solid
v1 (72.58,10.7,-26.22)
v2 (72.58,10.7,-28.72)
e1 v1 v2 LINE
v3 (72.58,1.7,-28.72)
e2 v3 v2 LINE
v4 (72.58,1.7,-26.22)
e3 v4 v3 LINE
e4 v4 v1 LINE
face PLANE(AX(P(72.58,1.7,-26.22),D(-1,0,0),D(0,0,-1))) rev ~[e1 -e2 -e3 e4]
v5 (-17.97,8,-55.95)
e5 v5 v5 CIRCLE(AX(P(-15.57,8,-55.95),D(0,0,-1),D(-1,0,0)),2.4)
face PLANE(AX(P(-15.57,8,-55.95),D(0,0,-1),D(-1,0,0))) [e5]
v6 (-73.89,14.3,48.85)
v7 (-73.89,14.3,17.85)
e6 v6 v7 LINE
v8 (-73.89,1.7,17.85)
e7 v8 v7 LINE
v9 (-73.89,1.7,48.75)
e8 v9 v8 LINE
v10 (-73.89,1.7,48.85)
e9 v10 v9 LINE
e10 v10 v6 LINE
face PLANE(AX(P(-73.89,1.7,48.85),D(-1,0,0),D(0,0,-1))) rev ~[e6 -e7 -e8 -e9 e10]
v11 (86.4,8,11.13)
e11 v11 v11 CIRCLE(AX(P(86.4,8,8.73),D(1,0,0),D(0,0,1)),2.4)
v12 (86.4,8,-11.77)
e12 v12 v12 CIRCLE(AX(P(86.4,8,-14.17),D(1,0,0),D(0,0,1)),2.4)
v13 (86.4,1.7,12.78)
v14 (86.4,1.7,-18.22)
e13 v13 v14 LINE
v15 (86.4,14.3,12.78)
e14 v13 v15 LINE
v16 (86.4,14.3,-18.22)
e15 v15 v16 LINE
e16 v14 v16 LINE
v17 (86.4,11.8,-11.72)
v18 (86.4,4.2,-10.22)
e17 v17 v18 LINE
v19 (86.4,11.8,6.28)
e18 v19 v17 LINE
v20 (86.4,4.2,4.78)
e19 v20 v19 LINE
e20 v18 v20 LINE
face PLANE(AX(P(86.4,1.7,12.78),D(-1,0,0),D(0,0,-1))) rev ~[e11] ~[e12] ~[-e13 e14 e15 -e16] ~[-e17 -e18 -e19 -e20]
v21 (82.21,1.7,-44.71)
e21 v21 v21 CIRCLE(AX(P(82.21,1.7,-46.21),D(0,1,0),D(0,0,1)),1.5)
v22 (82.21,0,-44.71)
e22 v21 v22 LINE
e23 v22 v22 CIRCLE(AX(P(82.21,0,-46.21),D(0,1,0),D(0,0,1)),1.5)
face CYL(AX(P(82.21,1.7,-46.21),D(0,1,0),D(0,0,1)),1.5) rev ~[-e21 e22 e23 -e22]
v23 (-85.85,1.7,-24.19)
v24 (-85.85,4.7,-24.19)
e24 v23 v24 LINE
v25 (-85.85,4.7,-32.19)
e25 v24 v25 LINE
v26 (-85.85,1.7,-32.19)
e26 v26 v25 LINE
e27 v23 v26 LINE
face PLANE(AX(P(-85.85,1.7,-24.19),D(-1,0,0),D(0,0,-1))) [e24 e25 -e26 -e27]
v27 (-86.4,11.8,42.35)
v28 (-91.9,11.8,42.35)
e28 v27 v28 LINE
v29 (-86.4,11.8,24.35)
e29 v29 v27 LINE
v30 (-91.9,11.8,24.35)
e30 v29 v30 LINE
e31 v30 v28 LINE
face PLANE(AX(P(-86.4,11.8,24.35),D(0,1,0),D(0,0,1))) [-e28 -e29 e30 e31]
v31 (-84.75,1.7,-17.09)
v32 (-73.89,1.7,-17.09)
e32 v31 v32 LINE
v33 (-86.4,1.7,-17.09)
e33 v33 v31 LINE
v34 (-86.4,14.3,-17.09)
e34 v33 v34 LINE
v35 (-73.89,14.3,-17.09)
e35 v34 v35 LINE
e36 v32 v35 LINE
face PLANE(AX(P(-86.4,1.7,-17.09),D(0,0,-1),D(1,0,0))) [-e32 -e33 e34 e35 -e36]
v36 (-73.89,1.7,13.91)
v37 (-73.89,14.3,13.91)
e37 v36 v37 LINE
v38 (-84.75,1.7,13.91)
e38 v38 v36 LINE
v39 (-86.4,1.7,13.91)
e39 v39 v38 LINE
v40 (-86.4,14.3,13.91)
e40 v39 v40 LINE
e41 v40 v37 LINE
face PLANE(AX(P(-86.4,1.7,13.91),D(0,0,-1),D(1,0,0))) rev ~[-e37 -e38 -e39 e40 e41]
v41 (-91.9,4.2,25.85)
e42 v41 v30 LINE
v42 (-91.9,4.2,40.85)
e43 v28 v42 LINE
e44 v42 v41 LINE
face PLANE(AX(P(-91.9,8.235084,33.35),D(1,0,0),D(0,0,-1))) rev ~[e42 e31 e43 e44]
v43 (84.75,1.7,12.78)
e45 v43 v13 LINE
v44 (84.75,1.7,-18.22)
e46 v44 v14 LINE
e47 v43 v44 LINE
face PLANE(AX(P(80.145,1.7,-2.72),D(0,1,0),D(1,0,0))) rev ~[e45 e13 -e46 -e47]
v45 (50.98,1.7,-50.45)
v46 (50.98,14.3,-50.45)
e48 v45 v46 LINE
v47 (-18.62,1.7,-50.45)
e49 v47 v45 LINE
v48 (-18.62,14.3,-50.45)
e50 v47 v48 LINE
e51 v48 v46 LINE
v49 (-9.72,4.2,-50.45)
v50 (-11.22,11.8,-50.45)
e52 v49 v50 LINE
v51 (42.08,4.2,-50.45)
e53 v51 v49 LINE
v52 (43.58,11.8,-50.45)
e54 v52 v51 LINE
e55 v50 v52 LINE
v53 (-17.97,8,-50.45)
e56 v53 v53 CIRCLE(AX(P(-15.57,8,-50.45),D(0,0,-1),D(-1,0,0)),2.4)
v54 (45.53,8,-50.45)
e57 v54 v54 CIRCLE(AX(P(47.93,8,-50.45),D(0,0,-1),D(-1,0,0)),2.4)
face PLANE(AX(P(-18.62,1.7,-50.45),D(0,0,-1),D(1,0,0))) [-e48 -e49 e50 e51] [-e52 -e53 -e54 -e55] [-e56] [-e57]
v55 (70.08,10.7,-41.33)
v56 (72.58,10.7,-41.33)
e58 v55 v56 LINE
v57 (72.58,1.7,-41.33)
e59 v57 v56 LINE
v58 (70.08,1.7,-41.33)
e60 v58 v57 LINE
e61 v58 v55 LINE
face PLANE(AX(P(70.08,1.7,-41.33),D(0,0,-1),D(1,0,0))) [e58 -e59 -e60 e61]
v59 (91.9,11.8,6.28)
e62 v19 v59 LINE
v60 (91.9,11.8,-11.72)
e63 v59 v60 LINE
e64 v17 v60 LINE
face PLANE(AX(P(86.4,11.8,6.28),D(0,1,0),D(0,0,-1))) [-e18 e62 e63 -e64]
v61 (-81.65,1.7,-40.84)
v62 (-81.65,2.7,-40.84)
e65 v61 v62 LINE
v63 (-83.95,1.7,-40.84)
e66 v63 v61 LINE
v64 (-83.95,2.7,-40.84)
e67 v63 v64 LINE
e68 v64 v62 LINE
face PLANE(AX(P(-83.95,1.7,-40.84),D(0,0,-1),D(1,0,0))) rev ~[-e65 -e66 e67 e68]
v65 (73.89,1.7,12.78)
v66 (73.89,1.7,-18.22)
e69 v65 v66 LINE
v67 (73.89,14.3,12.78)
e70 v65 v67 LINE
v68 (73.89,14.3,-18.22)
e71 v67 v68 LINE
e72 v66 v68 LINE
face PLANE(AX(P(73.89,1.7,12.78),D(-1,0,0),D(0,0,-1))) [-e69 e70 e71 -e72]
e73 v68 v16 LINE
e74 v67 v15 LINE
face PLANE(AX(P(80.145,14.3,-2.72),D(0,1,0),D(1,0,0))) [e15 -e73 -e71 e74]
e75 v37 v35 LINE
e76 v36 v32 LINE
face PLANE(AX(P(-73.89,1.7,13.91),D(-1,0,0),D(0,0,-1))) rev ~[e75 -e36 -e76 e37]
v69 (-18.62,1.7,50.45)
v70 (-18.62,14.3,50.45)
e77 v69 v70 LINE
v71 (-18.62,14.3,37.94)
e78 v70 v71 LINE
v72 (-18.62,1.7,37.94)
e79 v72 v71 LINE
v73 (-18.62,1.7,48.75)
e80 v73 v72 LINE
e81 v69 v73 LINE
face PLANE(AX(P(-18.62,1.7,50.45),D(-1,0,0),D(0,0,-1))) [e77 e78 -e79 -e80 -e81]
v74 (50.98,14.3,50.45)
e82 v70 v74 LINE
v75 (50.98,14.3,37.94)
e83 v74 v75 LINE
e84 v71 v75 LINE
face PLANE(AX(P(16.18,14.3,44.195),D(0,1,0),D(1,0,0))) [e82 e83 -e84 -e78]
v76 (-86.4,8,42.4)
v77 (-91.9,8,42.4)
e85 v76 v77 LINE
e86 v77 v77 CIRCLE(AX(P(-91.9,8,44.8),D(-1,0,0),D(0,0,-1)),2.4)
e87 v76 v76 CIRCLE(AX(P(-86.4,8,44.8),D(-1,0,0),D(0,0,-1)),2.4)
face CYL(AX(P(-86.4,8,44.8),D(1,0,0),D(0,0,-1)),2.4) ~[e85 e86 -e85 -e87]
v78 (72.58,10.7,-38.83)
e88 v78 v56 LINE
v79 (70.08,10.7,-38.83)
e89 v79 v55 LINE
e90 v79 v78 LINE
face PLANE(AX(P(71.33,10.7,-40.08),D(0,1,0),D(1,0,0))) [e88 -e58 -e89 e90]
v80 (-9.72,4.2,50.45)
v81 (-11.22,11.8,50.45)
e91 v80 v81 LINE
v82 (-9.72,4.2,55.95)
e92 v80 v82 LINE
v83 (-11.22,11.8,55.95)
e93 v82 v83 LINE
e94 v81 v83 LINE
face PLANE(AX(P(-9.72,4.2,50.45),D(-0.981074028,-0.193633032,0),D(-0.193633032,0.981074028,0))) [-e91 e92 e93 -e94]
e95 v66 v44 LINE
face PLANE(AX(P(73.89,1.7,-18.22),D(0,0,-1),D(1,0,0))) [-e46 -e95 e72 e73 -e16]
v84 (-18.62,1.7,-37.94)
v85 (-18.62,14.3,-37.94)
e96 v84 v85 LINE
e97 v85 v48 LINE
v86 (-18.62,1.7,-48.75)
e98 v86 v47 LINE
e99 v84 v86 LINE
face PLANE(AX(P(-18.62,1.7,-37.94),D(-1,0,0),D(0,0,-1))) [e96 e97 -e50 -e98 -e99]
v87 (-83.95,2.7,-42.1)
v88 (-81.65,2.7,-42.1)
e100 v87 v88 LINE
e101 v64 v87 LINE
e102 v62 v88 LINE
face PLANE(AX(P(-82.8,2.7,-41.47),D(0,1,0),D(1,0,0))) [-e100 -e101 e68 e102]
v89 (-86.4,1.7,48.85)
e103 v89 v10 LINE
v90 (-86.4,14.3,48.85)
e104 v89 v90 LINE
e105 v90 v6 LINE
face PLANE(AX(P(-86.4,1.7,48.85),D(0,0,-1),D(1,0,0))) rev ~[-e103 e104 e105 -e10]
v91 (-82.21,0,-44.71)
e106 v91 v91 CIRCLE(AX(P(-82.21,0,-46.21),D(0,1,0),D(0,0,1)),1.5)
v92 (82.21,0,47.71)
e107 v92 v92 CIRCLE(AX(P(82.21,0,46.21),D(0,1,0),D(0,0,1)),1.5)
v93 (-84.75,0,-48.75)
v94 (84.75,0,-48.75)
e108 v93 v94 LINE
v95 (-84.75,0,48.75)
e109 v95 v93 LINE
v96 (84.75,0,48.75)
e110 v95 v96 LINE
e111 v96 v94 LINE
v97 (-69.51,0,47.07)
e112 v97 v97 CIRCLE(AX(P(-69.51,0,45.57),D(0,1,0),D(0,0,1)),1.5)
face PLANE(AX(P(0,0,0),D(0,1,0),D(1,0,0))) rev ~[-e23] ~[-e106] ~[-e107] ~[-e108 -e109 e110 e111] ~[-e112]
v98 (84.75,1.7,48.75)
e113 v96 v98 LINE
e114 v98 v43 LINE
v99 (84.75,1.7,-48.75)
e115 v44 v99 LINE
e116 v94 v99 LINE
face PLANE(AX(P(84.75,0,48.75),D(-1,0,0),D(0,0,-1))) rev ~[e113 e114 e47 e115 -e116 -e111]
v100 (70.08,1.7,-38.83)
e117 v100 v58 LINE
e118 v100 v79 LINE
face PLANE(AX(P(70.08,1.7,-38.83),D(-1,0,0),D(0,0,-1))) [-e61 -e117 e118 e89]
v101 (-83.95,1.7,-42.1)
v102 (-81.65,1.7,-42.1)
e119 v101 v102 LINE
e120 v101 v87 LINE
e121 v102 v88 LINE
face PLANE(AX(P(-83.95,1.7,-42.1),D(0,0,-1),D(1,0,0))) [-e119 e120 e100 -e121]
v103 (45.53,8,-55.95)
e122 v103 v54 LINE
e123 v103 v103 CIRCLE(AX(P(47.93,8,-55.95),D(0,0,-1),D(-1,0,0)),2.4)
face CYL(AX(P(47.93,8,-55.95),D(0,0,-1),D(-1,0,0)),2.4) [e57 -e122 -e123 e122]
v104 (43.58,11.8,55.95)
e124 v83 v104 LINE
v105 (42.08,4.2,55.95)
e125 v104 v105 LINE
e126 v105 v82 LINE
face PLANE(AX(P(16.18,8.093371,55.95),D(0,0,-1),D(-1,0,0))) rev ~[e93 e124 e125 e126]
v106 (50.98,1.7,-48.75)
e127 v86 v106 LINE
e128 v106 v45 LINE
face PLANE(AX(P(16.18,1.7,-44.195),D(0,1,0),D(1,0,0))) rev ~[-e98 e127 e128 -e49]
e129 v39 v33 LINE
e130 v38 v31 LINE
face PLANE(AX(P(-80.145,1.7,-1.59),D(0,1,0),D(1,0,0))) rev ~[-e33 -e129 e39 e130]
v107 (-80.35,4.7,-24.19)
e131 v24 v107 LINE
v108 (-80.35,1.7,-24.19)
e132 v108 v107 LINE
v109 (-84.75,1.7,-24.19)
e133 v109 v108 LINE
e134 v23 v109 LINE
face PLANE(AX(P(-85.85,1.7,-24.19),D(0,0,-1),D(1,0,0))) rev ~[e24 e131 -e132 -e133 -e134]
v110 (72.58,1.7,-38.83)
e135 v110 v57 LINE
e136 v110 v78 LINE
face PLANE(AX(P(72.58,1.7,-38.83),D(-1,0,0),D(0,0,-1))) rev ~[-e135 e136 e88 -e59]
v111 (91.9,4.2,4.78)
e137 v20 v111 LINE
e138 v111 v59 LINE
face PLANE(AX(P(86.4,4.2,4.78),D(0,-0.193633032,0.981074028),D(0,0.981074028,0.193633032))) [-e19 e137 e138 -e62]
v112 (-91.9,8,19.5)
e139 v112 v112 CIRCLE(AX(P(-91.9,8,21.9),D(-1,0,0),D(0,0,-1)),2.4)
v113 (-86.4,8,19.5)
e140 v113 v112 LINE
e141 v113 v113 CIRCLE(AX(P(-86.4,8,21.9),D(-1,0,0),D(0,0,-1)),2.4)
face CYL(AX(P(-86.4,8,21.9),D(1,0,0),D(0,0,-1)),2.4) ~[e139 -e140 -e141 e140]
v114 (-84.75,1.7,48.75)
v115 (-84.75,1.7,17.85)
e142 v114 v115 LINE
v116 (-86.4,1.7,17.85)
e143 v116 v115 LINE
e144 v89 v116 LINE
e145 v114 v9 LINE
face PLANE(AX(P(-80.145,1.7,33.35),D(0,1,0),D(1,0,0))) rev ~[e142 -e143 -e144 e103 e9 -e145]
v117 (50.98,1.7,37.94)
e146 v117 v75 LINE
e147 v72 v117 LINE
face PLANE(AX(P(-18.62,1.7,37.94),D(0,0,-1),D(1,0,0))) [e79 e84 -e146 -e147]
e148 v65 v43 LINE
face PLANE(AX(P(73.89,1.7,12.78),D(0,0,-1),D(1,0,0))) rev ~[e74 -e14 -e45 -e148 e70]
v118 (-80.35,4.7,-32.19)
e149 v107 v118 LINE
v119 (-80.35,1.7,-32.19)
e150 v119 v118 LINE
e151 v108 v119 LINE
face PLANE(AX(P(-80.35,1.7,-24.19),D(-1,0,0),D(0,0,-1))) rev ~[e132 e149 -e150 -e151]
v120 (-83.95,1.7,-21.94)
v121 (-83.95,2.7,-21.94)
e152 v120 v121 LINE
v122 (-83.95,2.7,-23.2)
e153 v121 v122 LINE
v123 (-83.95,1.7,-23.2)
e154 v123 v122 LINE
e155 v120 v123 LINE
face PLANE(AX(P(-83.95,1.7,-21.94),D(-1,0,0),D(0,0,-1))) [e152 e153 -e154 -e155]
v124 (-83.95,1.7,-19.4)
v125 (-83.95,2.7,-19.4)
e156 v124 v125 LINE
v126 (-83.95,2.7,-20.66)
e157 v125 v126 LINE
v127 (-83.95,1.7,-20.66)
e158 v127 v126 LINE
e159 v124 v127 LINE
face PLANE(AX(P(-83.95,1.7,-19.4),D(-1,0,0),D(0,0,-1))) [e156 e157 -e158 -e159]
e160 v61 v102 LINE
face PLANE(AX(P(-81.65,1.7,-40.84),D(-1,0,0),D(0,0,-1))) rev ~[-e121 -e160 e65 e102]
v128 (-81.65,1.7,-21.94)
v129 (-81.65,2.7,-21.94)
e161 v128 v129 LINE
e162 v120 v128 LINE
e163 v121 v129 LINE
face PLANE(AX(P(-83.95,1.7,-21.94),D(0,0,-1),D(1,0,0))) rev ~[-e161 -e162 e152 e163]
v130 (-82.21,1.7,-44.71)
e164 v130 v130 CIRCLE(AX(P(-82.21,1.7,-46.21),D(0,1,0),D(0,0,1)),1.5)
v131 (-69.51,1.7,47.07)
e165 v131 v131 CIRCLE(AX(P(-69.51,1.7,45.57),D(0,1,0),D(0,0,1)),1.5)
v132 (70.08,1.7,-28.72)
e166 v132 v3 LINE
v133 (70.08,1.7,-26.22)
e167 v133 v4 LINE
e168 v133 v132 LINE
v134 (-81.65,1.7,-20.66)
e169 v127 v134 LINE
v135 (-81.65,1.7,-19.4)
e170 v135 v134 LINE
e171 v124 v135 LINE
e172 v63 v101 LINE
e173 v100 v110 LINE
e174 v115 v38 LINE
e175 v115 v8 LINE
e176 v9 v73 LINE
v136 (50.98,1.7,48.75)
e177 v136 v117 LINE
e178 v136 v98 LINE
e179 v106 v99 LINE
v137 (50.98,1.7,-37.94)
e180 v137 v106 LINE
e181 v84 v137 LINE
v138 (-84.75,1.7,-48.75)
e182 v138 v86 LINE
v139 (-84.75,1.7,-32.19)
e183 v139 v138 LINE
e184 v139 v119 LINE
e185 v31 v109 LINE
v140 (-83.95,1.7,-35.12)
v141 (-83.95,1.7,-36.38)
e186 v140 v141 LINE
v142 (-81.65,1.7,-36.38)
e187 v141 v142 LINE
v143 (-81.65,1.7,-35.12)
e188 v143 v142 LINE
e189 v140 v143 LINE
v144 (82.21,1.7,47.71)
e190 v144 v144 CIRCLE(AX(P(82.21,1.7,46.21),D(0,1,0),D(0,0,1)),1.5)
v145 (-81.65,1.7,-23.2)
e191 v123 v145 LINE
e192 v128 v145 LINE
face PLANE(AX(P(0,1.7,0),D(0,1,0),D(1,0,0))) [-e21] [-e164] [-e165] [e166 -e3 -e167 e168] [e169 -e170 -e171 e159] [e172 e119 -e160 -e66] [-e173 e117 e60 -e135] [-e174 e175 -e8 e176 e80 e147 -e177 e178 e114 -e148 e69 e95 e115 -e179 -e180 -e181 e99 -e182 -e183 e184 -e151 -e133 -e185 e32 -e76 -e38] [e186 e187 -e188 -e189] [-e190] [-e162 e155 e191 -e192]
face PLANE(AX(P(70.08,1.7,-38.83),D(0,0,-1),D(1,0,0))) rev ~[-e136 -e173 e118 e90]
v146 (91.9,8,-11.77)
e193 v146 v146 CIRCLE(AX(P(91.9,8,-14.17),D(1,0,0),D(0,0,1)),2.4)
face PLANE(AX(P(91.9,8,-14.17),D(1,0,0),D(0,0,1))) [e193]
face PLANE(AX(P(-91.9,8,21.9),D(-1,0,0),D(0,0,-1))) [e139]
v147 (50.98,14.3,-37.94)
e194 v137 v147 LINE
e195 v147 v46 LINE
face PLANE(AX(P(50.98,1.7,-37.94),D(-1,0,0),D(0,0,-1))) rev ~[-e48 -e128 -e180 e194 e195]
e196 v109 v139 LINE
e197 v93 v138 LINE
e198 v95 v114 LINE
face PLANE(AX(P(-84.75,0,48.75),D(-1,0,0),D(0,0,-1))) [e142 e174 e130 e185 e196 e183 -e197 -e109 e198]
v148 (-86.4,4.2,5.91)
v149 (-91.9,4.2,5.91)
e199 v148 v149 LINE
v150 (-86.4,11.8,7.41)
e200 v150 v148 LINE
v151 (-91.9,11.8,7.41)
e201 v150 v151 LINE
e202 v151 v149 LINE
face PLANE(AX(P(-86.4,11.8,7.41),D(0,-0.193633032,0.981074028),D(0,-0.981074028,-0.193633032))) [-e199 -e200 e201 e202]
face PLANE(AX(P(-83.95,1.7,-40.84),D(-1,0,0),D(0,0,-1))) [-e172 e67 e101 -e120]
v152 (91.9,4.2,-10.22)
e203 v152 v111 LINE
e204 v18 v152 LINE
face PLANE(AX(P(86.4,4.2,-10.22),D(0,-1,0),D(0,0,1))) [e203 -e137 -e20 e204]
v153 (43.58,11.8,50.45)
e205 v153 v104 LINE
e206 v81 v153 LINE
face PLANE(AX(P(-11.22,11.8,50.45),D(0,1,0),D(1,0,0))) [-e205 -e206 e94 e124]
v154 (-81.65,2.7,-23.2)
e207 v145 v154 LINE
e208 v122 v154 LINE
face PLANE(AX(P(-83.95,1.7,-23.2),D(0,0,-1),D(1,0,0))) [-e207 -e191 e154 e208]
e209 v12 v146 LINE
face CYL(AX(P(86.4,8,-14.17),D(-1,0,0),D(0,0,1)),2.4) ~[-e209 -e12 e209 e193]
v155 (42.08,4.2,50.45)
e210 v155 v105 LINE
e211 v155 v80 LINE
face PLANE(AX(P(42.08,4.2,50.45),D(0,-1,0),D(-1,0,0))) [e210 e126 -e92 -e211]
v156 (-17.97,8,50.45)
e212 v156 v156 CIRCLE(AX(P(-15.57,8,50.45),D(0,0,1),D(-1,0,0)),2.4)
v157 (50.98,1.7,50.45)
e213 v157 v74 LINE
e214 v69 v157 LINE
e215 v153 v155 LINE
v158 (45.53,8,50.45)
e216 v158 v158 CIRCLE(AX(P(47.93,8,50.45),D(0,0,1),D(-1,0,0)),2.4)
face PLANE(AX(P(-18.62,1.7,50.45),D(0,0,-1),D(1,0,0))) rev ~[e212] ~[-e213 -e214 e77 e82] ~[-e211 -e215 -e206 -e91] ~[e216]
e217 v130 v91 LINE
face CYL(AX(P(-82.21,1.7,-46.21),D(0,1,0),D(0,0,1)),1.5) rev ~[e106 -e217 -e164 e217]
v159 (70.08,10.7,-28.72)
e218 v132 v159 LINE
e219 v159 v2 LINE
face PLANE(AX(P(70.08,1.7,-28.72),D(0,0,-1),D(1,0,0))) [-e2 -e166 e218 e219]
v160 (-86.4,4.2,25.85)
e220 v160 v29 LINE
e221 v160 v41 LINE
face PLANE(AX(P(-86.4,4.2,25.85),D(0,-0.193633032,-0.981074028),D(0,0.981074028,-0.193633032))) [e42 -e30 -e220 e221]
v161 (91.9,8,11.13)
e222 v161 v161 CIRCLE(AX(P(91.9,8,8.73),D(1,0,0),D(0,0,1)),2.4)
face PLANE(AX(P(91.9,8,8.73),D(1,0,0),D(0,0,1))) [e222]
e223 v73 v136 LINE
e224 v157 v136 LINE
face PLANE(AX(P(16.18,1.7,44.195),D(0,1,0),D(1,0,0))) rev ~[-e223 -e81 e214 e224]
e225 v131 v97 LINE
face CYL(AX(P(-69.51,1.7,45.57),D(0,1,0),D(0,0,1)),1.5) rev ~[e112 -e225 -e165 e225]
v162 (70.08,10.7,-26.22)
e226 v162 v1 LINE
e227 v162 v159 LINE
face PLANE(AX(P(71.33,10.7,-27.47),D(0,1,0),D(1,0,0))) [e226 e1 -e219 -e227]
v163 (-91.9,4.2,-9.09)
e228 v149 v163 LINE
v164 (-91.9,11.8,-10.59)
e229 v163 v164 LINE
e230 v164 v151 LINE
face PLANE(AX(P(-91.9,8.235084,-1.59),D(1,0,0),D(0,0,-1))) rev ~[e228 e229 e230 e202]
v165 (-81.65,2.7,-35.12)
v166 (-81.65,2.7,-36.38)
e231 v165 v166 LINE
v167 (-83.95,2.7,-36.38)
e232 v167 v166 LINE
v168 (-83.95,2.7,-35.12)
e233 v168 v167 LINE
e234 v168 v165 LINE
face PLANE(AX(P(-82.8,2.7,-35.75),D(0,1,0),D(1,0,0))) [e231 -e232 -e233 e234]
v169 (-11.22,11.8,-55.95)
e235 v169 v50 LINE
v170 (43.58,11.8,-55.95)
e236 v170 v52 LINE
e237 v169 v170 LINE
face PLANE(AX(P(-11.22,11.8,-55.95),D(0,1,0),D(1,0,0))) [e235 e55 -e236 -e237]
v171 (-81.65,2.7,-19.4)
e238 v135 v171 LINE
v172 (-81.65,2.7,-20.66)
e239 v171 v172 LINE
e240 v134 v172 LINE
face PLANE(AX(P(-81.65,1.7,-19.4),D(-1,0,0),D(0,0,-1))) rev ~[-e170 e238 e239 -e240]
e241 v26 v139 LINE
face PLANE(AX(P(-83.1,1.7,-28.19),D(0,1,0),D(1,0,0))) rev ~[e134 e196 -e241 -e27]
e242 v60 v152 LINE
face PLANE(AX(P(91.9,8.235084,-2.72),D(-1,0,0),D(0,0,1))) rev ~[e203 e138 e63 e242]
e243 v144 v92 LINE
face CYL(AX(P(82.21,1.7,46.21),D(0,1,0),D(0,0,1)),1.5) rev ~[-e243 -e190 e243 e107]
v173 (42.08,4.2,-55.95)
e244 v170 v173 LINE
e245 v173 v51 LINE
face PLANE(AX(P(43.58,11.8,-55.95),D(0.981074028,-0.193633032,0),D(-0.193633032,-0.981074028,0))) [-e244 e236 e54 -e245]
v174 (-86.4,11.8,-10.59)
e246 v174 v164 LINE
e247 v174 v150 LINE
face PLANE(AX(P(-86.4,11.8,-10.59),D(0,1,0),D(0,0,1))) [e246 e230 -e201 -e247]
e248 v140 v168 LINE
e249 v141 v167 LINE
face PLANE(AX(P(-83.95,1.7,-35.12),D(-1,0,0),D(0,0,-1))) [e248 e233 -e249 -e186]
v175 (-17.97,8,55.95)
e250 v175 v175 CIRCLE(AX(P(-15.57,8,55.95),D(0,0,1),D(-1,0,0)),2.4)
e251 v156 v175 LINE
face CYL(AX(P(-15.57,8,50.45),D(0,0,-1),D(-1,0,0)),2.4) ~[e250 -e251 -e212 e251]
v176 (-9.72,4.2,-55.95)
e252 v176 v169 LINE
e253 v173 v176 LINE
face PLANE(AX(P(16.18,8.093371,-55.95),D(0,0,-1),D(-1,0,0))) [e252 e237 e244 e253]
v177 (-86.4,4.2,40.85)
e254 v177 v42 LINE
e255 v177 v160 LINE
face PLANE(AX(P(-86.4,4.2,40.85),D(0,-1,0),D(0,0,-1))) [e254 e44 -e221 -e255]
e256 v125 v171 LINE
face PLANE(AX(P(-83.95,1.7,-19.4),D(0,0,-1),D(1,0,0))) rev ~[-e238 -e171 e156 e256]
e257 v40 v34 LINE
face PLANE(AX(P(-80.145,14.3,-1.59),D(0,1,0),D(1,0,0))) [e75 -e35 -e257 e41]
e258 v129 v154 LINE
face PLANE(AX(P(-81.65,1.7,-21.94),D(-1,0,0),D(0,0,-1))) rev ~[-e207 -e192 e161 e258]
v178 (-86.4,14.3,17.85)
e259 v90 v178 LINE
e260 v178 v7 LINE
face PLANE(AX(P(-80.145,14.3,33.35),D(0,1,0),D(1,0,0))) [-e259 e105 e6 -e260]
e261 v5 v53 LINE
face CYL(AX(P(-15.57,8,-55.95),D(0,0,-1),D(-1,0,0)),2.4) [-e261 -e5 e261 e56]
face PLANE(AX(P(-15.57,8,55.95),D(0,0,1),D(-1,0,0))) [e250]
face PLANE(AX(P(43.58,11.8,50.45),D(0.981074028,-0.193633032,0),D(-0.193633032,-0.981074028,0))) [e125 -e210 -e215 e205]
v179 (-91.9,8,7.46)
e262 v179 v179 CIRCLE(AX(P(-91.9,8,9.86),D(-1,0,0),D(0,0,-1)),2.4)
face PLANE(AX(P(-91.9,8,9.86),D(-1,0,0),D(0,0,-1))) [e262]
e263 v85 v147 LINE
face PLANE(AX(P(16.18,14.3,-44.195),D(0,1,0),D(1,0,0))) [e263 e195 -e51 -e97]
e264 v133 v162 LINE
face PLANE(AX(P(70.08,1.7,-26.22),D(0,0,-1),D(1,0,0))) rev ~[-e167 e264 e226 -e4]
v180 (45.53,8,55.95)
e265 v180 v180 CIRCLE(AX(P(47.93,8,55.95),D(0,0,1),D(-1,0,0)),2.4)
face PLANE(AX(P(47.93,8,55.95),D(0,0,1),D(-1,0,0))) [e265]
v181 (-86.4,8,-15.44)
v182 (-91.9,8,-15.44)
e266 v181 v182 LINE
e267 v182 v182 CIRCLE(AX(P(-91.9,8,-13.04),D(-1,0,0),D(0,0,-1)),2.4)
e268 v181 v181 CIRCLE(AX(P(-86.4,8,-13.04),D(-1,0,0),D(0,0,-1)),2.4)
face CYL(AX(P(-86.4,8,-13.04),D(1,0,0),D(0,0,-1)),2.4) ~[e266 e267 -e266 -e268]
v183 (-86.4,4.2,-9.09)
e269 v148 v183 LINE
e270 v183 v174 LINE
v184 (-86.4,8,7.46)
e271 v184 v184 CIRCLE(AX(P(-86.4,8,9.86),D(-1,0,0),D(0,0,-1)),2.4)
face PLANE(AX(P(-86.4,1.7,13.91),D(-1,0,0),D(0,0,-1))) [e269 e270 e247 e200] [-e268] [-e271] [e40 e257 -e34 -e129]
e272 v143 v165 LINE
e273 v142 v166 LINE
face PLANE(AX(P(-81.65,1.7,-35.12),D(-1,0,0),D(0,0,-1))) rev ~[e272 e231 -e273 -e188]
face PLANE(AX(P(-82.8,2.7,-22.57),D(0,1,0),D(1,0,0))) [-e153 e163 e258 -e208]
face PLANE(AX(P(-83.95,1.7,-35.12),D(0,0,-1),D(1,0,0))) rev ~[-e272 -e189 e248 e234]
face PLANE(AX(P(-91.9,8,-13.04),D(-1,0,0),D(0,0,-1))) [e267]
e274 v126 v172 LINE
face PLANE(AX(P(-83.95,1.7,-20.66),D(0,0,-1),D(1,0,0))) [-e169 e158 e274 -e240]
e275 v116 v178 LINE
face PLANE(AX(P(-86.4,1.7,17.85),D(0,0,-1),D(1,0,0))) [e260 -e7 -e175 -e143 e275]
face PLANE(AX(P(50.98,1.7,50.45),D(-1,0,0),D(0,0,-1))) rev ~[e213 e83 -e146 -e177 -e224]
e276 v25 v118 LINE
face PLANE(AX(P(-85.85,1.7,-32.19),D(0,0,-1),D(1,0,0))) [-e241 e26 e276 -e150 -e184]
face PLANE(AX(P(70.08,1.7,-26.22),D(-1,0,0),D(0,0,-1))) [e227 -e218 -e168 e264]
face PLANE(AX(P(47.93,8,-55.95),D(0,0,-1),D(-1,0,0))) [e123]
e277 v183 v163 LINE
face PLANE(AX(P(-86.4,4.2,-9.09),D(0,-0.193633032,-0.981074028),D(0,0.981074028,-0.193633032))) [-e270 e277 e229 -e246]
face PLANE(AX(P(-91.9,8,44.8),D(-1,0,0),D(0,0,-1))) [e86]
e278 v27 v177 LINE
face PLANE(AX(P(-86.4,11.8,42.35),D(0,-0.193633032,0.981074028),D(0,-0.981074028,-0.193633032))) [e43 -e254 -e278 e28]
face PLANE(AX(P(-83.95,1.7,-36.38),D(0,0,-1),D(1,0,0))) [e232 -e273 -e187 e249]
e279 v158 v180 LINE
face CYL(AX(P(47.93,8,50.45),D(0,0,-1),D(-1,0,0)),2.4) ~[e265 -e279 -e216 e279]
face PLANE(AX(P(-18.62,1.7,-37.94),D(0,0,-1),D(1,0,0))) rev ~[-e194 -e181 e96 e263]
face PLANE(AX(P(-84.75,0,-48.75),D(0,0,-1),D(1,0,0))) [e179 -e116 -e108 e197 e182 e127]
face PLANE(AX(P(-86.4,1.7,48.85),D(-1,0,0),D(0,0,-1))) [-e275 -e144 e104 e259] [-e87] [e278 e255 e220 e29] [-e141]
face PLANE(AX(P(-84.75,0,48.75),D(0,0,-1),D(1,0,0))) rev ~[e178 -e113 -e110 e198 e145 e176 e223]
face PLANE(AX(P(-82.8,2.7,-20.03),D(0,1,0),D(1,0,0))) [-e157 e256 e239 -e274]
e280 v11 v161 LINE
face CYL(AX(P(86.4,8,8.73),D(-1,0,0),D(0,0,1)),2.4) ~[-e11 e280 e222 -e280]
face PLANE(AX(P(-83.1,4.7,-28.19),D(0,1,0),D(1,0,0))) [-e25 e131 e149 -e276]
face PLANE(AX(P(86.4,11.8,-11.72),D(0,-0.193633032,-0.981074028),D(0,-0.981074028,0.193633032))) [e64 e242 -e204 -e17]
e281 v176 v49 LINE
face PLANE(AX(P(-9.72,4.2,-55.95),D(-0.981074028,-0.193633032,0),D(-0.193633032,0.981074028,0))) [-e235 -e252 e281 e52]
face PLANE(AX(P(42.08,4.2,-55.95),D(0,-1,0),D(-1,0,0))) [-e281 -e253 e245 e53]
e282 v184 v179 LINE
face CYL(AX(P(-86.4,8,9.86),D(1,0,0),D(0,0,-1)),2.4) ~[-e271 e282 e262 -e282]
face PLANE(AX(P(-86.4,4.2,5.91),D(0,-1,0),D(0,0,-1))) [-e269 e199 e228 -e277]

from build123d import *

# Parameters (mm, degrees)
SKETCH1_W           = 169.5
SKETCH1_H           = 97.5
BASE_DEPTH          = 1.7
MOUNTHOLES_REACH    = 99.786
SKETCH2_R           = 1.5
SKETCH3_W           = 12.51
SKETCH3_H           = 31
SKETCH3_W_2         = 69.6
SKETCH3_H_2         = 12.51
DSUBMAIN_DEPTH      = 12.6
SKETCH4_R           = 2.4
BOSS_EXTRUDE3_DEPTH = 5.5
SKETCH5_R           = 2.4
BOSS_EXTRUDE4_DEPTH = 5.5
SKETCH6_R           = 2.4
BOSS_EXTRUDE5_DEPTH = 5.5
BOSS_EXTRUDE6_START = 5.5
SKETCH7_R           = 2.4
BOSS_EXTRUDE6_DEPTH = 5.5
SKETCH8_W           = 5.5
SKETCH8_H           = 8
USB_DEPTH           = 3
SKETCH9_W           = 2.3
SKETCH9_H           = 1.26
LED_DEPTH           = 1
SKETCH10_W          = 2.5
SKETCH10_H          = 2.5
BOSS_EXTRUDE9_DEPTH = 9


with BuildPart() as part:
    # Sketch1 → Base (new body)
    with BuildSketch(Plane(origin=(0, 0, 0), x_dir=(1, 0, 0), z_dir=(0, 1, 0))):
        Rectangle(SKETCH1_W, SKETCH1_H)
    extrude(amount=BASE_DEPTH)

    # Sketch2 → MountHoles (cut, up to next)
    with BuildSketch(Plane(origin=(0, 1.7, 0), x_dir=(1, 0, 0), z_dir=(0, 1, 0)), mode=Mode.PRIVATE) as mountholes_sk1:
        with Locations((82.21, 46.21)):
            Circle(SKETCH2_R)
    mountholes_tool1 = extrude(mountholes_sk1.sketch, amount=-MOUNTHOLES_REACH, mode=Mode.PRIVATE) & part.part
    # Sketch2 → MountHoles (cut, up to next)
    with BuildSketch(Plane(origin=(0, 1.7, 0), x_dir=(1, 0, 0), z_dir=(0, 1, 0)), mode=Mode.PRIVATE) as mountholes_sk2:
        with Locations((82.21, -46.21)):
            Circle(SKETCH2_R)
    mountholes_tool2 = extrude(mountholes_sk2.sketch, amount=-MOUNTHOLES_REACH, mode=Mode.PRIVATE) & part.part
    # Sketch2 → MountHoles (cut, up to next)
    with BuildSketch(Plane(origin=(0, 1.7, 0), x_dir=(1, 0, 0), z_dir=(0, 1, 0)), mode=Mode.PRIVATE) as mountholes_sk3:
        with Locations((-69.51, -45.57)):
            Circle(SKETCH2_R)
    mountholes_tool3 = extrude(mountholes_sk3.sketch, amount=-MOUNTHOLES_REACH, mode=Mode.PRIVATE) & part.part
    # Sketch2 → MountHoles (cut, up to next)
    with BuildSketch(Plane(origin=(0, 1.7, 0), x_dir=(1, 0, 0), z_dir=(0, 1, 0)), mode=Mode.PRIVATE) as mountholes_sk4:
        with Locations((-82.21, 46.21)):
            Circle(SKETCH2_R)
    mountholes_tool4 = extrude(mountholes_sk4.sketch, amount=-MOUNTHOLES_REACH, mode=Mode.PRIVATE) & part.part
    add(mountholes_tool1.solids().sort_by_distance((82.21, 1.7, -46.21))[0], mode=Mode.SUBTRACT)
    add(mountholes_tool2.solids().sort_by_distance((82.21, 1.7, 46.21))[0], mode=Mode.SUBTRACT)
    add(mountholes_tool3.solids().sort_by_distance((-69.51, 1.7, 45.57))[0], mode=Mode.SUBTRACT)
    add(mountholes_tool4.solids().sort_by_distance((-82.21, 1.7, -46.21))[0], mode=Mode.SUBTRACT)

    # Sketch3 → DSUBMain (add)
    with BuildSketch(Plane(origin=(0, 1.7, 0), x_dir=(1, 0, 0), z_dir=(0, 1, 0))):
        with Locations((-80.145, 1.59)):
            Rectangle(SKETCH3_W, SKETCH3_H)
        with Locations((-80.145, -33.35)):
            Rectangle(SKETCH3_W, SKETCH3_H)
        with Locations((80.145, 2.72)):
            Rectangle(SKETCH3_W, SKETCH3_H)
        with Locations((16.18, 44.195)):
            Rectangle(SKETCH3_W_2, SKETCH3_H_2)
        with Locations((16.18, -44.195)):
            Rectangle(SKETCH3_W_2, SKETCH3_H_2)
    extrude(amount=DSUBMAIN_DEPTH)

    # Sketch4 → Boss-Extrude3 (add)
    with BuildSketch(Plane(origin=(86.4, 0, 0), x_dir=(0, 0, -1), z_dir=(1, 0, 0))):
        with Locations((-8.73, 8)):
            Circle(SKETCH4_R)
        with Locations((14.17, 8)):
            Circle(SKETCH4_R)
        Polygon((-6.28, 11.8), (11.72, 11.8), (10.22, 4.2), (-4.78, 4.2), align=None)
    extrude(amount=BOSS_EXTRUDE3_DEPTH)

    # Sketch5 → Boss-Extrude4 (add)
    with BuildSketch(Plane.ZY.offset(86.4)):
        with Locations((-13.04, 8)):
            Circle(SKETCH5_R)
        with Locations((9.86, 8)):
            Circle(SKETCH5_R)
        with Locations((21.9, 8)):
            Circle(SKETCH5_R)
        with Locations((44.8, 8)):
            Circle(SKETCH5_R)
        Polygon((-10.59, 11.8), (7.41, 11.8), (5.91, 4.2), (-9.09, 4.2), align=None)
        Polygon((24.35, 11.8), (42.35, 11.8), (40.85, 4.2), (25.85, 4.2), align=None)
    extrude(amount=BOSS_EXTRUDE4_DEPTH)

    # Sketch6 → Boss-Extrude5 (add)
    with BuildSketch(Plane.XY.offset(50.45)):
        with Locations((-15.57, 8)):
            Circle(SKETCH6_R)
        with Locations((47.93, 8)):
            Circle(SKETCH6_R)
        Polygon((-11.22, 11.8), (43.58, 11.8), (42.08, 4.2), (-9.72, 4.2), align=None)
    extrude(amount=BOSS_EXTRUDE5_DEPTH)

    # Sketch7 → Boss-Extrude6 (add)
    with BuildSketch(Plane(origin=(0, 0, -50.45), x_dir=(-1, 0, 0), z_dir=(0, 0, -1)).offset(BOSS_EXTRUDE6_START)):
        with Locations((-47.93, 8)):
            Circle(SKETCH7_R)
        with Locations((15.57, 8)):
            Circle(SKETCH7_R)
        Polygon((11.22, 11.8), (-43.58, 11.8), (-42.08, 4.2), (9.72, 4.2), align=None)
    extrude(amount=-BOSS_EXTRUDE6_DEPTH)

    # Sketch8 → USB (add)
    with BuildSketch(Plane(origin=(0, 1.7, 0), x_dir=(1, 0, 0), z_dir=(0, 1, 0))):
        with Locations((-83.1, 28.19)):
            Rectangle(SKETCH8_W, SKETCH8_H)
    extrude(amount=USB_DEPTH)

    # Sketch9 → LED (add)
    with BuildSketch(Plane(origin=(0, 1.7, 0), x_dir=(1, 0, 0), z_dir=(0, 1, 0))):
        with Locations((-82.8, 41.47)):
            Rectangle(SKETCH9_W, SKETCH9_H)
        with Locations((-82.8, 35.75)):
            Rectangle(SKETCH9_W, SKETCH9_H)
        with Locations((-82.8, 22.57)):
            Rectangle(SKETCH9_W, SKETCH9_H)
        with Locations((-82.8, 20.03)):
            Rectangle(SKETCH9_W, SKETCH9_H)
    extrude(amount=LED_DEPTH)

    # Sketch10 → Boss-Extrude9 (add)
    with BuildSketch(Plane(origin=(0, 1.7, 0), x_dir=(1, 0, 0), z_dir=(0, 1, 0))):
        with Locations((71.33, 40.08)):
            Rectangle(SKETCH10_W, SKETCH10_H)
        with Locations((71.33, 27.47)):
            Rectangle(SKETCH10_W, SKETCH10_H)
    extrude(amount=BOSS_EXTRUDE9_DEPTH)


solid = part.part
